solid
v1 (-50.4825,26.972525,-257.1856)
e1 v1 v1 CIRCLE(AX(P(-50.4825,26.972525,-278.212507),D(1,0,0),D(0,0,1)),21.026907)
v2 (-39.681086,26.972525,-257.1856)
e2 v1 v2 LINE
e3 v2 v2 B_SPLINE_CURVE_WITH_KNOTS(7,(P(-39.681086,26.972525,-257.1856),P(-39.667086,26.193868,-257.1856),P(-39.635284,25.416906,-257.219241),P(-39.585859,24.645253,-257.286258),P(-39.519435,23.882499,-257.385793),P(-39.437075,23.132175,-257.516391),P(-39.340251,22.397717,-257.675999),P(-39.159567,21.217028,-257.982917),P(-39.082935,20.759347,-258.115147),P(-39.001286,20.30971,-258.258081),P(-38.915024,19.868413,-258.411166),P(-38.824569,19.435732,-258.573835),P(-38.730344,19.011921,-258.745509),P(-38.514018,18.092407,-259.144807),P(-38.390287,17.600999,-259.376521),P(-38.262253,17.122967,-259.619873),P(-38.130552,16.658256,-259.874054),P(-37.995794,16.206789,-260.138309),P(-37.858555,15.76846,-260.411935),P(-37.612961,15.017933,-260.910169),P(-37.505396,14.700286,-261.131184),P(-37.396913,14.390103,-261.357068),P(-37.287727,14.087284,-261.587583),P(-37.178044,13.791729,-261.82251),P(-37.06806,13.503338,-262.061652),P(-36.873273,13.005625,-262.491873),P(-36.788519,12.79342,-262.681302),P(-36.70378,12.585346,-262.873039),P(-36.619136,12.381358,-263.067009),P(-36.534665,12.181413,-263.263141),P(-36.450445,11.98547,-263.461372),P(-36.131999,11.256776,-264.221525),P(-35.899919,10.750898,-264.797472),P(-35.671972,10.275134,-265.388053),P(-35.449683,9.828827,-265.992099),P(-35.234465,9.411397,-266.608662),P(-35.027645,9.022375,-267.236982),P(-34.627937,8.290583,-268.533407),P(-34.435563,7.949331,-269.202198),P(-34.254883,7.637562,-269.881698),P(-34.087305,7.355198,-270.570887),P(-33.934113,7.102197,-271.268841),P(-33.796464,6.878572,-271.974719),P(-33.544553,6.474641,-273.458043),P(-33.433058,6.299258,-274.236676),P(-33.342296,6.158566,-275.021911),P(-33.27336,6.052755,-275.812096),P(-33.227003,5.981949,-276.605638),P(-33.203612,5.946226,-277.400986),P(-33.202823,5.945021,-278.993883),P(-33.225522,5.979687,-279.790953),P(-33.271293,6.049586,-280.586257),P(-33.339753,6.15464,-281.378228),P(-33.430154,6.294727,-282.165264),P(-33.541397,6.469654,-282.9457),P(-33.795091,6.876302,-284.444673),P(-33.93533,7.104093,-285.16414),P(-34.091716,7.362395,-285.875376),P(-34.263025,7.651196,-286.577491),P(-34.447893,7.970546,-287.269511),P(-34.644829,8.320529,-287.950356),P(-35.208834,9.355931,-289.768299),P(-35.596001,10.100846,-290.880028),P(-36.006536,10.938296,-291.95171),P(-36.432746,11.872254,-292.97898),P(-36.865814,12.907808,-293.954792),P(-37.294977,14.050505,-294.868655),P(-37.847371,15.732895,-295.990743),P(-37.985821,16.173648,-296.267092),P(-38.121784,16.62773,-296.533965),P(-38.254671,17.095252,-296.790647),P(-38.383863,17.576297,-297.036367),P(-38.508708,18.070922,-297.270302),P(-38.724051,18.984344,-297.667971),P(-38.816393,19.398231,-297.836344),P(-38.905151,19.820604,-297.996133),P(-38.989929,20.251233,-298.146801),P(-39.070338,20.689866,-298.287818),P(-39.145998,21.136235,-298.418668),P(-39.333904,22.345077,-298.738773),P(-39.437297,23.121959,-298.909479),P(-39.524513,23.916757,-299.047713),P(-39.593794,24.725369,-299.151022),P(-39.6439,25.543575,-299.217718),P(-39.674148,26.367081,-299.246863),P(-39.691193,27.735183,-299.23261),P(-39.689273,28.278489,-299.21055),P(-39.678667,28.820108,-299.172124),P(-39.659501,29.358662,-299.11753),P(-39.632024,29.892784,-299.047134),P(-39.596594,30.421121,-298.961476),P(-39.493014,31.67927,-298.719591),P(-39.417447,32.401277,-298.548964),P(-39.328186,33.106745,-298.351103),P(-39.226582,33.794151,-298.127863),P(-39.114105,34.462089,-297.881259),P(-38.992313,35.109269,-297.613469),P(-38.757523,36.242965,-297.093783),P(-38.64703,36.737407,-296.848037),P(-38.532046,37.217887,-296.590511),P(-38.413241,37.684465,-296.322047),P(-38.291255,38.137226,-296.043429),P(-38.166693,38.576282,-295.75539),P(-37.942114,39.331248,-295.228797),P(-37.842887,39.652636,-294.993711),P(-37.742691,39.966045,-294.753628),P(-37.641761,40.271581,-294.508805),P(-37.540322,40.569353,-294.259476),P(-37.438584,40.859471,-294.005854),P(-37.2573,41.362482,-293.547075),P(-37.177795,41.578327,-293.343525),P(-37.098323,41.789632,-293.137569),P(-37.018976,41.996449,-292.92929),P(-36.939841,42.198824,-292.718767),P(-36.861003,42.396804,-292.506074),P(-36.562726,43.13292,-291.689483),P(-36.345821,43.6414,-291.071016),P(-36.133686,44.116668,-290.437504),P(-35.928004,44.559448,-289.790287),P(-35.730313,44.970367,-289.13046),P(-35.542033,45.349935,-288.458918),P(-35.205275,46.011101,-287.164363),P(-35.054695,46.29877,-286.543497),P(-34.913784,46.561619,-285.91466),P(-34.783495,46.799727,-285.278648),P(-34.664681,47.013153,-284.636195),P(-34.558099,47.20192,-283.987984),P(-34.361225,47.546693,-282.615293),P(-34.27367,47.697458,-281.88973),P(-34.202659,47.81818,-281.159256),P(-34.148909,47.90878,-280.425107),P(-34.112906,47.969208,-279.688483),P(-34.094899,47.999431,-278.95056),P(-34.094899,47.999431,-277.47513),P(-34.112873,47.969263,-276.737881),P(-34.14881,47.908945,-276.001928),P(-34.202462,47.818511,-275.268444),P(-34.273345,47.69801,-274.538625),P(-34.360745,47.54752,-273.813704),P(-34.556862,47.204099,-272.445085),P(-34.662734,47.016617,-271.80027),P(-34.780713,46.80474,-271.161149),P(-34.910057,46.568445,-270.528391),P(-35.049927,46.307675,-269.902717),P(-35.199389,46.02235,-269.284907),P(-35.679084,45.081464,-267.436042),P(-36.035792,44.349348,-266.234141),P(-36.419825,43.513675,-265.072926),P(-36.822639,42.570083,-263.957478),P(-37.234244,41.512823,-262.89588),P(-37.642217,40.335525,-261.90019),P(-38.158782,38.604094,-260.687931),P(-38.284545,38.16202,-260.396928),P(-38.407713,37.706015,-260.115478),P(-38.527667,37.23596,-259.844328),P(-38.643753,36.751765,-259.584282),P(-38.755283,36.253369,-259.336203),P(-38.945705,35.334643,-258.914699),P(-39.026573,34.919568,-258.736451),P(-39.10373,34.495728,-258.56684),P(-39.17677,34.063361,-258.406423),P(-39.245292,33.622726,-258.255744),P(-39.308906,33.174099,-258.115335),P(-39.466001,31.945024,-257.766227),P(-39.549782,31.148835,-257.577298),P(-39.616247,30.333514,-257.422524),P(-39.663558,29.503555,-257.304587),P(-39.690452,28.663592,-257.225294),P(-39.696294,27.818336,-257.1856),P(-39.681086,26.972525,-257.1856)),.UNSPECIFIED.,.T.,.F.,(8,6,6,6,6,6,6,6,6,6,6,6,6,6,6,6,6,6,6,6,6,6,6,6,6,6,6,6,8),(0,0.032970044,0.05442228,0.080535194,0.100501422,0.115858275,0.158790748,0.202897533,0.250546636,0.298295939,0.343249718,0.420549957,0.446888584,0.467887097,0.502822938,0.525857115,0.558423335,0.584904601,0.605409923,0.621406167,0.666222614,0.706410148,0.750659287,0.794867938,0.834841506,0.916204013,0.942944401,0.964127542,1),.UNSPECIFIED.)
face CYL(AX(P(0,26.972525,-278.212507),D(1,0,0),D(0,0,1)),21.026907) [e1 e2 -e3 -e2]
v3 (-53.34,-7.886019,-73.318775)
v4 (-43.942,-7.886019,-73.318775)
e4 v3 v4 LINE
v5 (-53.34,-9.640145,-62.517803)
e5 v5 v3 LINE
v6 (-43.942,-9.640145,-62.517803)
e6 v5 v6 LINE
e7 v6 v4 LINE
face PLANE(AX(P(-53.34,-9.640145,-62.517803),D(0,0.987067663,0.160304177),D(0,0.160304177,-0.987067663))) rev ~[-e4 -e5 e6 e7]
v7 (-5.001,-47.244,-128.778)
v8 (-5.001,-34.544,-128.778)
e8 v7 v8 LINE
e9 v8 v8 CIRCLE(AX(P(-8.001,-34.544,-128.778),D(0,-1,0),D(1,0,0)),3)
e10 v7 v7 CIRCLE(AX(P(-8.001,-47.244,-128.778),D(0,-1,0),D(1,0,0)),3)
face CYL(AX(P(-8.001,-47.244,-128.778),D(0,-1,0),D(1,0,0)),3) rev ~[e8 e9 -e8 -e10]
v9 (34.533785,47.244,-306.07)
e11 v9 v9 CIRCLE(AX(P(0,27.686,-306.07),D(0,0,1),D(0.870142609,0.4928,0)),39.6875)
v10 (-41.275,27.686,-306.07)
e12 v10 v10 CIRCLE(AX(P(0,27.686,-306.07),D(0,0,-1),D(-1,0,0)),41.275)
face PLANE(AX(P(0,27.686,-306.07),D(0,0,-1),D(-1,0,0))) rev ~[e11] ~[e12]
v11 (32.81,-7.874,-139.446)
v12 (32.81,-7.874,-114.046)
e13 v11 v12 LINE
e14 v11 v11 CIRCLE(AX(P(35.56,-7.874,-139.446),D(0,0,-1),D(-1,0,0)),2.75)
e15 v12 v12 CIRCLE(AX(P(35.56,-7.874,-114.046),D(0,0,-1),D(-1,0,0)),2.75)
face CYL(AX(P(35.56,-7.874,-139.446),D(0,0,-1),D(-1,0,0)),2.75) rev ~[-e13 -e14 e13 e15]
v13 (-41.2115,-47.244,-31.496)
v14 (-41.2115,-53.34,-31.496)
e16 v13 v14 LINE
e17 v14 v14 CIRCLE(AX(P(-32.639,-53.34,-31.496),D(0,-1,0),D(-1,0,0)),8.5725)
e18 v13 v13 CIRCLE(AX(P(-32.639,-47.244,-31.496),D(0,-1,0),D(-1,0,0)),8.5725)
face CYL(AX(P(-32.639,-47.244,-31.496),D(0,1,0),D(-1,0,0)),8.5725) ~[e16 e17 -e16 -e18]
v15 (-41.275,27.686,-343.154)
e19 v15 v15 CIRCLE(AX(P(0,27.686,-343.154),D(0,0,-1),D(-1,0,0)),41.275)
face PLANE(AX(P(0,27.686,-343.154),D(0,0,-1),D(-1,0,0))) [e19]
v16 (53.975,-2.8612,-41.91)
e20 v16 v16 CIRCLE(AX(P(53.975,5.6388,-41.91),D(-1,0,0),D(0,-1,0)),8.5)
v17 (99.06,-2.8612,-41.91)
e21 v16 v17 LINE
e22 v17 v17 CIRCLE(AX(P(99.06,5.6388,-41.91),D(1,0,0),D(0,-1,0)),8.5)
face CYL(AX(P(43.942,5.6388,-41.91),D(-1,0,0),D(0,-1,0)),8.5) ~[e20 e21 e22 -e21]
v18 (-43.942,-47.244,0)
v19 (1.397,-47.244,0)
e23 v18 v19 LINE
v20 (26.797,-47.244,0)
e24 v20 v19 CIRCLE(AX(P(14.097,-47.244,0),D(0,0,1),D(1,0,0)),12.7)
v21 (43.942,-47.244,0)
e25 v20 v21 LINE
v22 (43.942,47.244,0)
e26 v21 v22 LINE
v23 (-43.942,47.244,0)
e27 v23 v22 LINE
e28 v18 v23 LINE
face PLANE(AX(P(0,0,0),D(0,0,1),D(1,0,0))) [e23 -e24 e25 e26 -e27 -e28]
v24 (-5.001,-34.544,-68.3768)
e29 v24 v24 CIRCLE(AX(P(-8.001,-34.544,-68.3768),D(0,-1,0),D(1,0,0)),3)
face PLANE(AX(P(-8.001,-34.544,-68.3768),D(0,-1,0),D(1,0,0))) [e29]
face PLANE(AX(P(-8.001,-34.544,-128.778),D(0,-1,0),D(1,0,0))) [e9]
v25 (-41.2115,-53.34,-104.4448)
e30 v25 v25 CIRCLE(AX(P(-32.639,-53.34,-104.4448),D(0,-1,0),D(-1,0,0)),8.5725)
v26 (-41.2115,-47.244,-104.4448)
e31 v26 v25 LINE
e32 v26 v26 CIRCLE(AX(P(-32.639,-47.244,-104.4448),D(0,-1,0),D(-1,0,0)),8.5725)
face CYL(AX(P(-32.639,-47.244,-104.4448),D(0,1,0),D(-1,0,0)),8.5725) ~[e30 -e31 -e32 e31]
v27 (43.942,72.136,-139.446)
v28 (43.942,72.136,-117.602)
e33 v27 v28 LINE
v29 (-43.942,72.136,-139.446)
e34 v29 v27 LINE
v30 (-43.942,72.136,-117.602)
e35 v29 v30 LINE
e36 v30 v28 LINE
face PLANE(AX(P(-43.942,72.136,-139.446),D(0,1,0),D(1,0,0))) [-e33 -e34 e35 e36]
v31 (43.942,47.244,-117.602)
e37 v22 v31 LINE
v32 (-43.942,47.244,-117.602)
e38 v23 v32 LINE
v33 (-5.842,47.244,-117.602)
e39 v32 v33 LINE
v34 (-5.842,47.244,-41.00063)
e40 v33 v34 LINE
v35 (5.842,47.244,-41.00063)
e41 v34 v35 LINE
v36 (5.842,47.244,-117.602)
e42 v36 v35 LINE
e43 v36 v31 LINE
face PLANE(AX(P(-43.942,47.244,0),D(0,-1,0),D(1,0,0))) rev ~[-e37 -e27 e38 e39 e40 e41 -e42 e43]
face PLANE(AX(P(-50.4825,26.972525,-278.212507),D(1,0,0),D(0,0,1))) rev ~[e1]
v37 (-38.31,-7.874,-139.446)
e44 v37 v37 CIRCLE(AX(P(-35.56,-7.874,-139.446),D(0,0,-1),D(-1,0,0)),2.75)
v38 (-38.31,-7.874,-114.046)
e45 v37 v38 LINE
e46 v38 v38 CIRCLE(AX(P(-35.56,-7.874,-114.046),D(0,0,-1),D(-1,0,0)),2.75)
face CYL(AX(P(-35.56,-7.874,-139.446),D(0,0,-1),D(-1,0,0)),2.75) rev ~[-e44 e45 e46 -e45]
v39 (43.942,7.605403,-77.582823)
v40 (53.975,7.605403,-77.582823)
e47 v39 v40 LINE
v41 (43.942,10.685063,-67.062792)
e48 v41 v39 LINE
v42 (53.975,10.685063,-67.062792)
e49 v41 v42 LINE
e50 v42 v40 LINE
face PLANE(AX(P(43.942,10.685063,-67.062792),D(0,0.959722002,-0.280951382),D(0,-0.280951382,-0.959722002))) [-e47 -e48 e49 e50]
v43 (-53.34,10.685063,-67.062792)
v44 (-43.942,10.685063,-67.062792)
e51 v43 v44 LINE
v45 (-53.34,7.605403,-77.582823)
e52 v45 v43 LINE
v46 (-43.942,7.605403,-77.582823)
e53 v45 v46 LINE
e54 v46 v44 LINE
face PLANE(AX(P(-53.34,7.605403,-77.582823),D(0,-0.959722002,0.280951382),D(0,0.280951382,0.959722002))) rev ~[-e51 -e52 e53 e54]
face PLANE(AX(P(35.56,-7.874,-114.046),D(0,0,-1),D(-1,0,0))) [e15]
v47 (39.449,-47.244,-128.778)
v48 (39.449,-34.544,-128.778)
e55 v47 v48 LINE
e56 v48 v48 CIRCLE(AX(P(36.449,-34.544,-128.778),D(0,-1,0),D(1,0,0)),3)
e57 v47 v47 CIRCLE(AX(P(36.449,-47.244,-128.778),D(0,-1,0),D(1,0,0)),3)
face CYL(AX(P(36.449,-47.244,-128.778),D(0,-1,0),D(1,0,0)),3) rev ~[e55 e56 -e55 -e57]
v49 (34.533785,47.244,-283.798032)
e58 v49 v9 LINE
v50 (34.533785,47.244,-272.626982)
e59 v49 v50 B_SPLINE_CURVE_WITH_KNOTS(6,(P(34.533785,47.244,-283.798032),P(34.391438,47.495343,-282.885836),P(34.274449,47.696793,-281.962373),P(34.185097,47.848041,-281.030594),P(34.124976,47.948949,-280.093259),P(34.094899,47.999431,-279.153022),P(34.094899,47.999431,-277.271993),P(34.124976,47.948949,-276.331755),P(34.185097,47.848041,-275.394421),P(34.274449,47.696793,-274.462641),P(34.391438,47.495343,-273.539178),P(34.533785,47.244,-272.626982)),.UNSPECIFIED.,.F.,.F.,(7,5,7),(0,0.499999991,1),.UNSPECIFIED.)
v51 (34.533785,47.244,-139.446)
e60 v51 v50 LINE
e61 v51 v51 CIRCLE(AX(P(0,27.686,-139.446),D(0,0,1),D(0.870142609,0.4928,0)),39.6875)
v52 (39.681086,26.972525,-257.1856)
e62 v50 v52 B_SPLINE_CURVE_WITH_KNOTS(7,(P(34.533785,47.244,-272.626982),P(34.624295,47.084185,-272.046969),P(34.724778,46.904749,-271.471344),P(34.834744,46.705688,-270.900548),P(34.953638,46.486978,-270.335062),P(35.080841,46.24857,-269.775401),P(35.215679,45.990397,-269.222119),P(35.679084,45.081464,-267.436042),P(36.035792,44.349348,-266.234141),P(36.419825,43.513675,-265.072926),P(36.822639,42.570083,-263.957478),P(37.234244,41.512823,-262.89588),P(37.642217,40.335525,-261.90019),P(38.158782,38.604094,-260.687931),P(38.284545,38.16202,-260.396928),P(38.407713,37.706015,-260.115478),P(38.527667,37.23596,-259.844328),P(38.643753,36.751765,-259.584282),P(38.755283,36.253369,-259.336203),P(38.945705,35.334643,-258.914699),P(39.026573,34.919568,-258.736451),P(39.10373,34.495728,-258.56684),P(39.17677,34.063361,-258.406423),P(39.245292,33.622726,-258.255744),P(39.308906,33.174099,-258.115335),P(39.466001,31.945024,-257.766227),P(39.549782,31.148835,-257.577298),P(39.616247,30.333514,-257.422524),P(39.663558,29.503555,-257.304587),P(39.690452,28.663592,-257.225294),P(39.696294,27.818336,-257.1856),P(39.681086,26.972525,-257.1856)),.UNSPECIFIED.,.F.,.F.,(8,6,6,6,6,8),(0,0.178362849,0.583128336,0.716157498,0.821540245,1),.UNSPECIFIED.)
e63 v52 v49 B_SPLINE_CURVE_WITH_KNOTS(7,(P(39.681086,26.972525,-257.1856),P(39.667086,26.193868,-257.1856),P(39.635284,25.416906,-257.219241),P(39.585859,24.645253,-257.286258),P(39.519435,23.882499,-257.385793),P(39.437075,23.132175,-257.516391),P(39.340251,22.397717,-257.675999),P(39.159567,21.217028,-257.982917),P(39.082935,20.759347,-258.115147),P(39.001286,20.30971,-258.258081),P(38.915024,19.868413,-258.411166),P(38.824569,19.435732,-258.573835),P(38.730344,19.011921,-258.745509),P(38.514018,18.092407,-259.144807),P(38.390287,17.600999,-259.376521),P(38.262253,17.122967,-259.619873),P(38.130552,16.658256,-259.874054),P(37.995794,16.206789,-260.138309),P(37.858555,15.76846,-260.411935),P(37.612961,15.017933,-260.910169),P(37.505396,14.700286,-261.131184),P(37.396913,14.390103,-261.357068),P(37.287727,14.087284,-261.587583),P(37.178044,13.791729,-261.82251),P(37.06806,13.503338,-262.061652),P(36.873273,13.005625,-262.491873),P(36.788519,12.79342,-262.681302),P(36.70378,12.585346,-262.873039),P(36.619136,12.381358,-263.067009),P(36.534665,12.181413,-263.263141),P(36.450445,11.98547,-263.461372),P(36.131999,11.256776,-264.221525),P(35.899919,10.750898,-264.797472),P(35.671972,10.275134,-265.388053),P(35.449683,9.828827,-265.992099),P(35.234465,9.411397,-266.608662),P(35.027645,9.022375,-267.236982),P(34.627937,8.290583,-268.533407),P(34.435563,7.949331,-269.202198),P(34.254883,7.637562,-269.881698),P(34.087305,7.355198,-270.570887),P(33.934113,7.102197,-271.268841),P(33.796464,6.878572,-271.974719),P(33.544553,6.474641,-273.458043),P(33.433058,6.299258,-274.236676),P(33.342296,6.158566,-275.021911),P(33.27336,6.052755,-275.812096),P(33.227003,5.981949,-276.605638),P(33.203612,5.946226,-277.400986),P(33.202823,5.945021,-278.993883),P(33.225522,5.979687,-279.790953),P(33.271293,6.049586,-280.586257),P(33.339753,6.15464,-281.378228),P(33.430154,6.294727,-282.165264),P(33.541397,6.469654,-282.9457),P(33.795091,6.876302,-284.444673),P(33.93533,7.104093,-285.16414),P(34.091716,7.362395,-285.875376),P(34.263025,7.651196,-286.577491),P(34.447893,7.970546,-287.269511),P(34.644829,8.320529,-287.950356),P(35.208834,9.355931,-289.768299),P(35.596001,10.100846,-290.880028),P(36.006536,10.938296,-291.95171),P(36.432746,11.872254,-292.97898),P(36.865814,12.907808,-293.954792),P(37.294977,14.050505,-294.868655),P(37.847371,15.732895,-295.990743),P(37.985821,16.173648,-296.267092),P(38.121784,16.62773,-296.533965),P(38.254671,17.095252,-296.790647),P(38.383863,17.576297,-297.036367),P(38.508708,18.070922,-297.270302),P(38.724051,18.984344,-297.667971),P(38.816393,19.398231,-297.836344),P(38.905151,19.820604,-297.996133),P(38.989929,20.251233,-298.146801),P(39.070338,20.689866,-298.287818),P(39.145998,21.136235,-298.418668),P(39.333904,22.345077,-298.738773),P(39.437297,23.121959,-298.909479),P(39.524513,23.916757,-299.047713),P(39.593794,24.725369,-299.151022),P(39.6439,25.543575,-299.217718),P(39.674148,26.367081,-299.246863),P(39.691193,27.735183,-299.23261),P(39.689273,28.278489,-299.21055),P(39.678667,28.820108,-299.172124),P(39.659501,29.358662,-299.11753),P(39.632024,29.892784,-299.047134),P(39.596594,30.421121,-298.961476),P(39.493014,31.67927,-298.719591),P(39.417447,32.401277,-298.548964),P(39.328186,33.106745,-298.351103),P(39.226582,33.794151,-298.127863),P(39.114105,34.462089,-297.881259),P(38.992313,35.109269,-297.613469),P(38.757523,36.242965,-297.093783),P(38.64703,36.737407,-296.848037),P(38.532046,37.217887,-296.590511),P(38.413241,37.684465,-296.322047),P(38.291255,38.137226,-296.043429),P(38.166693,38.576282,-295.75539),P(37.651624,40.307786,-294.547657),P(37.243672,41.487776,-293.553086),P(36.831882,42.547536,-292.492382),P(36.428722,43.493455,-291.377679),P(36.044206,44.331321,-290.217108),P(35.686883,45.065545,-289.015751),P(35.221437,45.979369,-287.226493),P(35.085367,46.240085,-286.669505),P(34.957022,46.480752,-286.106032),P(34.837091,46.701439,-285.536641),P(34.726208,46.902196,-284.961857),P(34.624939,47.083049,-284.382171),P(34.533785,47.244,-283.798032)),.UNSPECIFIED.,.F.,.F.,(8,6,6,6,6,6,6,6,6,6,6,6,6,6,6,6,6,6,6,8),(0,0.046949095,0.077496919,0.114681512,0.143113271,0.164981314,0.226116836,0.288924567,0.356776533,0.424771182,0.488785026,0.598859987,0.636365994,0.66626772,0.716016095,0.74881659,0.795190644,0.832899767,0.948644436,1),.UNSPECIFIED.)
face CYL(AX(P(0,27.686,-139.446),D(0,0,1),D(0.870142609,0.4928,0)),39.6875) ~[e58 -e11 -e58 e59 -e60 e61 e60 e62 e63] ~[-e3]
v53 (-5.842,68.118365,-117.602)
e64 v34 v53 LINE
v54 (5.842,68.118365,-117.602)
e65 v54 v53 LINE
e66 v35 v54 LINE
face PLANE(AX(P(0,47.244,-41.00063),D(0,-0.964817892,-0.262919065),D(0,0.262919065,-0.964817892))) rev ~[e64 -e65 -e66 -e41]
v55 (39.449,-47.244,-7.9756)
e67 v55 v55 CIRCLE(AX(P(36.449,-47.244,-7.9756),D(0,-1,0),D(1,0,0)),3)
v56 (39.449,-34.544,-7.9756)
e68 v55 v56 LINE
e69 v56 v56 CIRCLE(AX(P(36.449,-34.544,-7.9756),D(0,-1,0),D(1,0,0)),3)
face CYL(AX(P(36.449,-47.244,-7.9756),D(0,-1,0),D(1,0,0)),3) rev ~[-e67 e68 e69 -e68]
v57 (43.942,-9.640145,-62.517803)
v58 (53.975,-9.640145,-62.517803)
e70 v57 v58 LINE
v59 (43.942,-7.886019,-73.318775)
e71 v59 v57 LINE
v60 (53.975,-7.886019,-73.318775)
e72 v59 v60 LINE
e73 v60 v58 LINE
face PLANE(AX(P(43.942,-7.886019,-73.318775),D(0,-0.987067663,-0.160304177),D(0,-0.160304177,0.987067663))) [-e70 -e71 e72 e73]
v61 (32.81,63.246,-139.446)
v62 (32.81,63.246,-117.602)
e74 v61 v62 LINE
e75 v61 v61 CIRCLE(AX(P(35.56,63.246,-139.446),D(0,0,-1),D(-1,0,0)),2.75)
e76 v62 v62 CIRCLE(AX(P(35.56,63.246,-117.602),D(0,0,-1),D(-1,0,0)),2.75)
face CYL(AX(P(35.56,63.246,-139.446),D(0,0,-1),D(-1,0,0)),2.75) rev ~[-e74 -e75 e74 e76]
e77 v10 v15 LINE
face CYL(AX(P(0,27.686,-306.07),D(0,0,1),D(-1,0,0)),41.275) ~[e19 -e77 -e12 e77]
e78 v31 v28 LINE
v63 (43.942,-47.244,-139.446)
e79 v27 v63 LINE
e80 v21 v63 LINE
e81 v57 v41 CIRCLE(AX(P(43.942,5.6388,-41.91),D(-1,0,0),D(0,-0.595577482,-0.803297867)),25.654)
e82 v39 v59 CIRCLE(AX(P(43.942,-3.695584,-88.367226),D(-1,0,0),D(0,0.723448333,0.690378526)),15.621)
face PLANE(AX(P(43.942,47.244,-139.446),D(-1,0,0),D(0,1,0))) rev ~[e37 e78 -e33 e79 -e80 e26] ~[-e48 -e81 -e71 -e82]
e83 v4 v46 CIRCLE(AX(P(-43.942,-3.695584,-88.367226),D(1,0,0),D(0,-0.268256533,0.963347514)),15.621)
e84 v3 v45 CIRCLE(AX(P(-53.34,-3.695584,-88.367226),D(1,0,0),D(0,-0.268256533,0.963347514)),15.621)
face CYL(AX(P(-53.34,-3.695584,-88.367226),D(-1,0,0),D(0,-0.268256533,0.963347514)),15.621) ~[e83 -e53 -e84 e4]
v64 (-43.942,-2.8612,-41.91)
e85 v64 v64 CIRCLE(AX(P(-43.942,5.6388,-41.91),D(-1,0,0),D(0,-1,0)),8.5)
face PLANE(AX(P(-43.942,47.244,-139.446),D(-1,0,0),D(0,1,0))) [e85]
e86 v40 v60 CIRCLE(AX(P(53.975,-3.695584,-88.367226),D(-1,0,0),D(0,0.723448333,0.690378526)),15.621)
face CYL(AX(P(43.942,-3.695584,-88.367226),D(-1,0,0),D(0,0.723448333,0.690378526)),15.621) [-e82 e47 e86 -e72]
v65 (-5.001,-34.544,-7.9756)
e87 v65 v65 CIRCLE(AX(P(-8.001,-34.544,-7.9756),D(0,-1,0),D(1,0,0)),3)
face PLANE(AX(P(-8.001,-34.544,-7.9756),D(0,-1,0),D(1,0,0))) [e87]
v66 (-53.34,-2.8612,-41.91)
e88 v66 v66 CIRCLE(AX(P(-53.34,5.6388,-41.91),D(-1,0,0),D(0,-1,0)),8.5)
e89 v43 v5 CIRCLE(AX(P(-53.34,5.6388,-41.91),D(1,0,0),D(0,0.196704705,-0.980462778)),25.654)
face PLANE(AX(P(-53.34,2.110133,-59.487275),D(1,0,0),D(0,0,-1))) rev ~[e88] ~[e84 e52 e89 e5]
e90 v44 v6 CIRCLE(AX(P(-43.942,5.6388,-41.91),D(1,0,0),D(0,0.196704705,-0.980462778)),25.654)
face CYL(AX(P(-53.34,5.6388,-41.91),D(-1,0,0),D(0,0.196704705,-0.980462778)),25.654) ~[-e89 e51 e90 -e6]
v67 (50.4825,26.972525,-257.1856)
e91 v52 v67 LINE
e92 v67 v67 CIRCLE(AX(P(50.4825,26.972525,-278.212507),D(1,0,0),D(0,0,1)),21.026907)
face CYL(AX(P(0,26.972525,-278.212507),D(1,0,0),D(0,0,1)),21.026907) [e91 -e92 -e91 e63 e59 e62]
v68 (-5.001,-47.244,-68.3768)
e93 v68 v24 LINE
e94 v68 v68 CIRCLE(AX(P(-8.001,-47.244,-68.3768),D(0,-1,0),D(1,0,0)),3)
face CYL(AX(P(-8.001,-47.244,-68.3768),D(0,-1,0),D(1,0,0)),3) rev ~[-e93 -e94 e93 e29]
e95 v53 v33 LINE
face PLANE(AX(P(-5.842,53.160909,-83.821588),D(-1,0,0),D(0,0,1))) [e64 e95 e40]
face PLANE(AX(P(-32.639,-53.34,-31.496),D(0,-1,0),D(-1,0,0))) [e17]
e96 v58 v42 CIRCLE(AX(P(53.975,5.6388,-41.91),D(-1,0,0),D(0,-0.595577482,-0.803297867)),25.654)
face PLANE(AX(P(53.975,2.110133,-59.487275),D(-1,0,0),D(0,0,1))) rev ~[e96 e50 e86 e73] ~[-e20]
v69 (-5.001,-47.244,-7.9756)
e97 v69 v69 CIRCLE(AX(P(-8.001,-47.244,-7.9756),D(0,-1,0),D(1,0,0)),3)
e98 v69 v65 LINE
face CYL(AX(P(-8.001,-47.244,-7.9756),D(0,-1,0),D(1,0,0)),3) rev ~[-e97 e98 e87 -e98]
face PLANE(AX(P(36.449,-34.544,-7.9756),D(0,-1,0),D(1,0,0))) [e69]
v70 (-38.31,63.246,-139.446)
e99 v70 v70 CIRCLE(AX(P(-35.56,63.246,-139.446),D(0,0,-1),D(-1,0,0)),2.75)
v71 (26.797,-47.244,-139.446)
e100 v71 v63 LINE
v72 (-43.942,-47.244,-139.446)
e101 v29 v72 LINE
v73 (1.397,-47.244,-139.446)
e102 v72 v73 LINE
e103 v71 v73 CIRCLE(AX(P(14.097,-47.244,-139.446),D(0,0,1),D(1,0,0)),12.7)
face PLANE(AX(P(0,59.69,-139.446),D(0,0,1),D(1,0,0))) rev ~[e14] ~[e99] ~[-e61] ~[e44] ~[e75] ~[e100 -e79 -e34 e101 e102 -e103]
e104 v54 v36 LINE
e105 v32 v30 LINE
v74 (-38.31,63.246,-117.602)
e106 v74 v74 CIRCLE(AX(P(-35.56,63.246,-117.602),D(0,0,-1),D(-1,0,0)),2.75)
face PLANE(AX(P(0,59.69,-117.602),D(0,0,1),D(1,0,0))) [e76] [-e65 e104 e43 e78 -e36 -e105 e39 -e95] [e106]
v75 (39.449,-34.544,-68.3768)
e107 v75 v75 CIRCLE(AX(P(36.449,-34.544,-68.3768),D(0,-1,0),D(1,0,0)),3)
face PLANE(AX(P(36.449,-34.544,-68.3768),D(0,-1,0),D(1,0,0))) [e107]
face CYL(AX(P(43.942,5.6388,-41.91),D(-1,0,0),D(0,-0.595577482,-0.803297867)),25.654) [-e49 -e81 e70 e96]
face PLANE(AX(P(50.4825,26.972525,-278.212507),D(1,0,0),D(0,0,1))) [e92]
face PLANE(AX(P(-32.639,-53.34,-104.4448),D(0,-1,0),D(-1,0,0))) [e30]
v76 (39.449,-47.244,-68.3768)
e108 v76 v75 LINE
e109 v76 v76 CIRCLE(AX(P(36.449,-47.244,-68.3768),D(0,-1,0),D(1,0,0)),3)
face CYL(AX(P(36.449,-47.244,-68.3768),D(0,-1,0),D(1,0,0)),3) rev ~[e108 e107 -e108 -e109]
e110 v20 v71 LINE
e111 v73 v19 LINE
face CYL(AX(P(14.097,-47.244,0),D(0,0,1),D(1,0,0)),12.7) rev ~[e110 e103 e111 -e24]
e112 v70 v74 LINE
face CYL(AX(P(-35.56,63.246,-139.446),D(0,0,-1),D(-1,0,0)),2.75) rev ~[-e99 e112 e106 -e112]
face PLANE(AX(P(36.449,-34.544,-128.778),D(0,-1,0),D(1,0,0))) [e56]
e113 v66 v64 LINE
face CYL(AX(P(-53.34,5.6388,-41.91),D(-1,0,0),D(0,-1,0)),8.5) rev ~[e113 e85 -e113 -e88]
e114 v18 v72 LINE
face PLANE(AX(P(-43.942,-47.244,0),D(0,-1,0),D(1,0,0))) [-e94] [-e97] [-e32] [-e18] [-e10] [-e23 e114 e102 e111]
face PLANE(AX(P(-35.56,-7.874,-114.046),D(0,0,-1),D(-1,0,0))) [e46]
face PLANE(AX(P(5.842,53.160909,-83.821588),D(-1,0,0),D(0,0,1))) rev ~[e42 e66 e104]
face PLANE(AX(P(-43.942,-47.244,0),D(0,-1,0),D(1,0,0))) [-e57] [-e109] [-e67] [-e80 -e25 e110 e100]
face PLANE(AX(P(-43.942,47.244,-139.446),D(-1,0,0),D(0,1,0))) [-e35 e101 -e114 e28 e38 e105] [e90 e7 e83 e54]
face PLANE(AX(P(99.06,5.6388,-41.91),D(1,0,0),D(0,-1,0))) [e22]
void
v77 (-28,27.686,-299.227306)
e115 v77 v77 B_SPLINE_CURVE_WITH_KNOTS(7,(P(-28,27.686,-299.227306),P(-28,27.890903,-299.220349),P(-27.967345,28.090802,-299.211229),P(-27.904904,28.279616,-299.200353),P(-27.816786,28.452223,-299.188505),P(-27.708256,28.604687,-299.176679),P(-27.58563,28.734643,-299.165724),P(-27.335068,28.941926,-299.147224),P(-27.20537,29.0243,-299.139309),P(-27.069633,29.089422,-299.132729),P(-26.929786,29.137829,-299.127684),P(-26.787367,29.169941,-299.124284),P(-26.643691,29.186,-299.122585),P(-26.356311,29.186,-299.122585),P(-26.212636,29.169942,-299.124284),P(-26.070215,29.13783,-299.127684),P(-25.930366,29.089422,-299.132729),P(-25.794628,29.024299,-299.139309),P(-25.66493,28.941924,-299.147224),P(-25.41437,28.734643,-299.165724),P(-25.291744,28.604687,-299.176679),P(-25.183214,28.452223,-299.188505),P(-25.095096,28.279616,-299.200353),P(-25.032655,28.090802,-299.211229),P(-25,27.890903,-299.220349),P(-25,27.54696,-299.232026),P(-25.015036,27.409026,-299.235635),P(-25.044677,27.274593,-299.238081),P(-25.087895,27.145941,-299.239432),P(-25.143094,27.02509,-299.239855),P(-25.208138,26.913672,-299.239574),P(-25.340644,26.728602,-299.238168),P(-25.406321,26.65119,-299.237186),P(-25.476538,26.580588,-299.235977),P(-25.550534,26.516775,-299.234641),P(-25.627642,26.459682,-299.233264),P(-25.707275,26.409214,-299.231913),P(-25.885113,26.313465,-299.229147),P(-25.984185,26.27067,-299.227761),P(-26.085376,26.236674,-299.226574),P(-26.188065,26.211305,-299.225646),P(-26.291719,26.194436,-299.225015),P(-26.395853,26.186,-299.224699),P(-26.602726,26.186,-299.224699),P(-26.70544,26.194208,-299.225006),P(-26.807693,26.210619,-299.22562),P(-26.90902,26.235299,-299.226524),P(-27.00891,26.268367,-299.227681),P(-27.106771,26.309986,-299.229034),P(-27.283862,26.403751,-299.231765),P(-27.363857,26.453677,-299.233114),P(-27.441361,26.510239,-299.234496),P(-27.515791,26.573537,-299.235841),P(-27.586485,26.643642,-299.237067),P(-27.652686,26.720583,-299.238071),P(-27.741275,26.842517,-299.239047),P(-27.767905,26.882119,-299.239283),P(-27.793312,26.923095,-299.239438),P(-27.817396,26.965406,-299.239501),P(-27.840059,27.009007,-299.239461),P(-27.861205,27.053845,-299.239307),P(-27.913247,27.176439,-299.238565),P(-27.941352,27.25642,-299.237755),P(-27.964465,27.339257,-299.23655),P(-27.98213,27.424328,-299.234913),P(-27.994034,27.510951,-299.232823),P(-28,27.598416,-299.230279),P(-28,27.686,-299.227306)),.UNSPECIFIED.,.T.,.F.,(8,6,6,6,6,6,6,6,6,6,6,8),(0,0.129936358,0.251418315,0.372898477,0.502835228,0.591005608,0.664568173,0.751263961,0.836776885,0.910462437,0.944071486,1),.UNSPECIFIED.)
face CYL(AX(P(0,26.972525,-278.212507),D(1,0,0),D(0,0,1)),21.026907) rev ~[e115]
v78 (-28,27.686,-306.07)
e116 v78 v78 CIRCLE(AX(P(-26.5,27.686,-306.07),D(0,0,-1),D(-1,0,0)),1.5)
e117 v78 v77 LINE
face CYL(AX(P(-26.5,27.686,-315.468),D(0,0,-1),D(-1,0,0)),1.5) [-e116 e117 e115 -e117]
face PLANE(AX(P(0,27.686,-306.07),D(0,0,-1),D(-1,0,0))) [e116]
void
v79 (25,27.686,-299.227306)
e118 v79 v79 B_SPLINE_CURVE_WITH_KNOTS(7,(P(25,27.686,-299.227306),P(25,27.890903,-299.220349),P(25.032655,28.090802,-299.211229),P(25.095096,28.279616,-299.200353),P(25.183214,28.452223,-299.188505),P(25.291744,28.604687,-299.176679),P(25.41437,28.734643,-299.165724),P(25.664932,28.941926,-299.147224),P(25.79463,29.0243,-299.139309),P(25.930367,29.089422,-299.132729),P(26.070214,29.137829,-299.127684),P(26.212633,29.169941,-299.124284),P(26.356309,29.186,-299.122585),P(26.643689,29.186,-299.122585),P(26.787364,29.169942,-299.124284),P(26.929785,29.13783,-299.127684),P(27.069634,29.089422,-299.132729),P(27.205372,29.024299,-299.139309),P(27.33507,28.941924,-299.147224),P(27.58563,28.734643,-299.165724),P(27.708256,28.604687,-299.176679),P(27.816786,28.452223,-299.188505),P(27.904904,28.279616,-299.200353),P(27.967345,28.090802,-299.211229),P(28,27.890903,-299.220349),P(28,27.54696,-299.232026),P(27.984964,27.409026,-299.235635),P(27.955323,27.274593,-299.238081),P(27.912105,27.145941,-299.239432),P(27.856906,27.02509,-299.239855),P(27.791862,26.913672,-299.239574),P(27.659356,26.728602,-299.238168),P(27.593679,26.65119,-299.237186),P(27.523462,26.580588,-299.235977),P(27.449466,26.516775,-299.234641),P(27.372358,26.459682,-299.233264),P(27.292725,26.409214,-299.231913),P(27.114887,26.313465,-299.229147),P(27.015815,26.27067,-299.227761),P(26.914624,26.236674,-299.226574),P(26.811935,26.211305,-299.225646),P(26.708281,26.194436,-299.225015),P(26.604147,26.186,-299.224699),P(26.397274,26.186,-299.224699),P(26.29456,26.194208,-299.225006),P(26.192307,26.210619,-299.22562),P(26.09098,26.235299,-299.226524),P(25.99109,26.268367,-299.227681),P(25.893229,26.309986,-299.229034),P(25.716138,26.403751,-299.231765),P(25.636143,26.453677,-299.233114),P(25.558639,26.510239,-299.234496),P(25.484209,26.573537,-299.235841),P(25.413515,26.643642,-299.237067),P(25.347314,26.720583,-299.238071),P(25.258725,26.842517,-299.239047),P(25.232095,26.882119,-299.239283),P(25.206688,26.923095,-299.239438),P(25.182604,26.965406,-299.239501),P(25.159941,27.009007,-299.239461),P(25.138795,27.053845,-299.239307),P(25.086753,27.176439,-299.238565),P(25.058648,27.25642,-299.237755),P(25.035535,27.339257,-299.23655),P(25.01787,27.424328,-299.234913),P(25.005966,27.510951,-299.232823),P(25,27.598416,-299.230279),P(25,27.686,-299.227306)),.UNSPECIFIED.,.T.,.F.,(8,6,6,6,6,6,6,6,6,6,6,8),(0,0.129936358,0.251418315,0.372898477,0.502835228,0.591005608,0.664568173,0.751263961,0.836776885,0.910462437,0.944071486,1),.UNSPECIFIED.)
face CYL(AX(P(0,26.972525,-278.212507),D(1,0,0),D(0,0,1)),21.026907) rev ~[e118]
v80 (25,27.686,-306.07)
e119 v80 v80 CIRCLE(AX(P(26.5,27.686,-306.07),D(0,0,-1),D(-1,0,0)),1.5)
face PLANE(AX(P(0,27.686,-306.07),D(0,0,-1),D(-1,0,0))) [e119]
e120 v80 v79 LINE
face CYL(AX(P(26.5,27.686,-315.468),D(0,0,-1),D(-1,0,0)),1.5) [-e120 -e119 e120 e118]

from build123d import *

# Parameters (mm, degrees)
SKETCH1_W                       = 87.884
SKETCH1_H                       = 94.488
BOSS_EXTRUDE1_DEPTH             = 139.446
SKETCH2_R                       = 8.5
BOSS_EXTRUDE2_DEPTH             = 55.118
SKETCH3_R                       = 39.6875
BOSS_EXTRUDE3_DEPTH             = 176.022
SKETCH4_W                       = 87.884
SKETCH4_H                       = 24.892
BOSS_EXTRUDE4_DEPTH             = 21.844
BOSS_EXTRUDE5_DEPTH             = 5.842
NOT_VERIFIED_EXTRUDE_DEPTH      = 10.033
SKETCH8_R                       = 2.75
CUT_EXTRUDE2_DEPTH              = 25.4
SKETCH7_R                       = 12.7
CHANGE_FOR_OPPOSITE_MOTOR_DEPTH = 339.432482365
SKETCH9_R                       = 3
CUT_EXTRUDE3_DEPTH              = 12.7
SKETCH10_R                      = 8.5725
BOSS_EXTRUDE6_DEPTH             = 6.096
SKETCH14_R                      = 1.5
CUT_EXTRUDE4_DEPTH              = 25.4
BOSS_EXTRUDE7_START             = 9.398
SKETCH11_R                      = 8.5
BOSS_EXTRUDE7_DEPTH             = 9.398
SKETCH12_R                      = 21.02690679
BOSS_EXTRUDE8_DEPTH             = 50.4825
SKETCH13_W                      = 14.986
SKETCH13_H                      = 14.986
BOSS_EXTRUDE9_DEPTH             = 6.35
BRAKE_AND_END_CAP_DEPTH         = 27.686
BRAKE_AND_END_CAP_DEPTH_BACK    = 9.398
SKETCH15_R                      = 41.275


with BuildPart() as part:
    # Sketch1 → Boss-Extrude1 (new body)
    with BuildSketch(Plane.XY):
        Rectangle(SKETCH1_W, SKETCH1_H)
    extrude(amount=-BOSS_EXTRUDE1_DEPTH)

    # Sketch2 → Boss-Extrude2 (add)
    with BuildSketch(Plane(origin=(43.942, 0, 0), x_dir=(0, 0, -1), z_dir=(1, 0, 0))):
        with Locations(Location((41.91, 5.6388, 0), (0, 0, 270))):
            Circle(SKETCH2_R)
    extrude(amount=BOSS_EXTRUDE2_DEPTH)

    # Sketch3 → Boss-Extrude3 (add)
    with BuildSketch(Plane(origin=(0, 0, -139.446), x_dir=(-1, 0, 0), z_dir=(0, 0, -1))):
        with Locations(Location((0, 27.686, 0), (0, 0, 150.475215814))):
            Circle(SKETCH3_R)
    extrude(amount=BOSS_EXTRUDE3_DEPTH)

    # Sketch4 → Boss-Extrude4 (add)
    with BuildSketch(Plane.XY.offset(-139.446)):
        with Locations((0, 59.69)):
            Rectangle(SKETCH4_W, SKETCH4_H)
    extrude(amount=BOSS_EXTRUDE4_DEPTH)

    # Sketch5 → Boss-Extrude5 (add, symmetric)
    with BuildSketch(Plane(origin=(0, 0, 0), x_dir=(0, 0, -1), z_dir=(1, 0, 0))):
        Polygon((41.00062989, 47.244), (117.602, 68.118364724), (117.602, 47.244), align=None)
    extrude(amount=BOSS_EXTRUDE5_DEPTH, both=True)

    # Sketch6 → not verified extrude (add)
    with BuildSketch(Plane(origin=(43.942, 0, 0), x_dir=(0, 0, -1), z_dir=(1, 0, 0))):
        with BuildLine():
            Line((67.062792106, 10.685062506), (77.582823134, 7.605402716))
            ThreePointArc((77.582823134, 7.605402716), (103.428106849, -7.84112489), (73.318774576, -7.88601899))
            Line((73.318774576, -7.88601899), (62.51780348, -9.640144719))
            ThreePointArc((62.51780348, -9.640144719), (16.874294712, 11.237119098), (67.062792106, 10.685062506))
        make_face()
    extrude(amount=NOT_VERIFIED_EXTRUDE_DEPTH)

    # Sketch8 → Cut-Extrude2 (cut)
    with BuildSketch(Plane(origin=(0, 0, -139.446), x_dir=(-1, 0, 0), z_dir=(0, 0, -1))):
        with Locations((-35.56, 63.246)):
            Circle(SKETCH8_R)
        with Locations((35.56, 63.246)):
            Circle(SKETCH8_R)
        with Locations((35.56, -7.874)):
            Circle(SKETCH8_R)
        with Locations((-35.56, -7.874)):
            Circle(SKETCH8_R)
    extrude(amount=-CUT_EXTRUDE2_DEPTH, mode=Mode.SUBTRACT)

    # Sketch7 → change for opposite motor (cut, through all)
    with BuildSketch(Plane.XY):
        with Locations((14.097, -47.244)):
            Circle(SKETCH7_R)
    extrude(amount=-CHANGE_FOR_OPPOSITE_MOTOR_DEPTH, mode=Mode.SUBTRACT)

    # Sketch9 → Cut-Extrude3 (cut)
    with BuildSketch(Plane.XZ.offset(47.244)):
        with Locations((-8.001, -7.9756)):
            Circle(SKETCH9_R)
        with Locations((-8.001, -68.3768)):
            Circle(SKETCH9_R)
        with Locations((-8.001, -128.778)):
            Circle(SKETCH9_R)
        with Locations((36.449, -128.778)):
            Circle(SKETCH9_R)
        with Locations((36.449, -68.3768)):
            Circle(SKETCH9_R)
        with Locations((36.449, -7.9756)):
            Circle(SKETCH9_R)
    extrude(amount=-CUT_EXTRUDE3_DEPTH, mode=Mode.SUBTRACT)

    # Sketch10 → Boss-Extrude6 (add)
    with BuildSketch(Plane.XZ.offset(47.244)):
        with Locations(Location((-32.639, -31.496, 0), (0, 0, 180))):
            Circle(SKETCH10_R)
        with Locations(Location((-32.639, -104.4448, 0), (0, 0, 180))):
            Circle(SKETCH10_R)
    extrude(amount=BOSS_EXTRUDE6_DEPTH)

    # Sketch14 → Cut-Extrude4 (cut)
    with BuildSketch(Plane(origin=(0, 0, -315.468), x_dir=(-1, 0, 0), z_dir=(0, 0, -1))):
        with Locations((-26.5, 27.686)):
            Circle(SKETCH14_R)
        with Locations((26.5, 27.686)):
            Circle(SKETCH14_R)
    extrude(amount=-CUT_EXTRUDE4_DEPTH, mode=Mode.SUBTRACT)

    # Sketch11 → Boss-Extrude7 (add)
    with BuildSketch(Plane.ZY.offset(43.942).offset(BOSS_EXTRUDE7_START)):
        with BuildLine():
            Line((-77.582823134, 7.605402716), (-67.062792106, 10.685062506))
            ThreePointArc((-67.062792106, 10.685062506), (-16.874294712, 11.237119098), (-62.51780348, -9.640144719))
            Line((-62.51780348, -9.640144719), (-73.318774576, -7.88601899))
            ThreePointArc((-73.318774576, -7.88601899), (-103.428106849, -7.84112489), (-77.582823134, 7.605402716))
        make_face()
        with Locations(Location((-41.91, 5.6388, 0), (0, 0, 270))):
            Circle(SKETCH11_R, mode=Mode.SUBTRACT)
    extrude(amount=-BOSS_EXTRUDE7_DEPTH)

    # Sketch12 → Boss-Extrude8 (add, symmetric)
    with BuildSketch(Plane(origin=(0, 0, 0), x_dir=(0, 0, -1), z_dir=(1, 0, 0))):
        with Locations(Location((278.212507153, 26.972524542, 0), (0, 0, 180))):
            Circle(SKETCH12_R)
    extrude(amount=BOSS_EXTRUDE8_DEPTH, both=True)

    # Sketch13 → Boss-Extrude9 (add)
    with BuildSketch(Plane(origin=(0, 0, -315.468), x_dir=(-1, 0, 0), z_dir=(0, 0, -1))):
        with Locations((0, 27.686)):
            Rectangle(SKETCH13_W, SKETCH13_H)
    extrude(amount=BOSS_EXTRUDE9_DEPTH)

    # Sketch15 → brake and end cap (add, two sides: drawn at the far end of the back side and taken through both)
    with BuildSketch(Plane(origin=(0, 0, -315.468), x_dir=(-1, 0, 0), z_dir=(0, 0, -1)).offset(-BRAKE_AND_END_CAP_DEPTH_BACK)):
        with Locations((0, 27.686)):
            Circle(SKETCH15_R)
    extrude(amount=BRAKE_AND_END_CAP_DEPTH + BRAKE_AND_END_CAP_DEPTH_BACK)


solid = part.part
